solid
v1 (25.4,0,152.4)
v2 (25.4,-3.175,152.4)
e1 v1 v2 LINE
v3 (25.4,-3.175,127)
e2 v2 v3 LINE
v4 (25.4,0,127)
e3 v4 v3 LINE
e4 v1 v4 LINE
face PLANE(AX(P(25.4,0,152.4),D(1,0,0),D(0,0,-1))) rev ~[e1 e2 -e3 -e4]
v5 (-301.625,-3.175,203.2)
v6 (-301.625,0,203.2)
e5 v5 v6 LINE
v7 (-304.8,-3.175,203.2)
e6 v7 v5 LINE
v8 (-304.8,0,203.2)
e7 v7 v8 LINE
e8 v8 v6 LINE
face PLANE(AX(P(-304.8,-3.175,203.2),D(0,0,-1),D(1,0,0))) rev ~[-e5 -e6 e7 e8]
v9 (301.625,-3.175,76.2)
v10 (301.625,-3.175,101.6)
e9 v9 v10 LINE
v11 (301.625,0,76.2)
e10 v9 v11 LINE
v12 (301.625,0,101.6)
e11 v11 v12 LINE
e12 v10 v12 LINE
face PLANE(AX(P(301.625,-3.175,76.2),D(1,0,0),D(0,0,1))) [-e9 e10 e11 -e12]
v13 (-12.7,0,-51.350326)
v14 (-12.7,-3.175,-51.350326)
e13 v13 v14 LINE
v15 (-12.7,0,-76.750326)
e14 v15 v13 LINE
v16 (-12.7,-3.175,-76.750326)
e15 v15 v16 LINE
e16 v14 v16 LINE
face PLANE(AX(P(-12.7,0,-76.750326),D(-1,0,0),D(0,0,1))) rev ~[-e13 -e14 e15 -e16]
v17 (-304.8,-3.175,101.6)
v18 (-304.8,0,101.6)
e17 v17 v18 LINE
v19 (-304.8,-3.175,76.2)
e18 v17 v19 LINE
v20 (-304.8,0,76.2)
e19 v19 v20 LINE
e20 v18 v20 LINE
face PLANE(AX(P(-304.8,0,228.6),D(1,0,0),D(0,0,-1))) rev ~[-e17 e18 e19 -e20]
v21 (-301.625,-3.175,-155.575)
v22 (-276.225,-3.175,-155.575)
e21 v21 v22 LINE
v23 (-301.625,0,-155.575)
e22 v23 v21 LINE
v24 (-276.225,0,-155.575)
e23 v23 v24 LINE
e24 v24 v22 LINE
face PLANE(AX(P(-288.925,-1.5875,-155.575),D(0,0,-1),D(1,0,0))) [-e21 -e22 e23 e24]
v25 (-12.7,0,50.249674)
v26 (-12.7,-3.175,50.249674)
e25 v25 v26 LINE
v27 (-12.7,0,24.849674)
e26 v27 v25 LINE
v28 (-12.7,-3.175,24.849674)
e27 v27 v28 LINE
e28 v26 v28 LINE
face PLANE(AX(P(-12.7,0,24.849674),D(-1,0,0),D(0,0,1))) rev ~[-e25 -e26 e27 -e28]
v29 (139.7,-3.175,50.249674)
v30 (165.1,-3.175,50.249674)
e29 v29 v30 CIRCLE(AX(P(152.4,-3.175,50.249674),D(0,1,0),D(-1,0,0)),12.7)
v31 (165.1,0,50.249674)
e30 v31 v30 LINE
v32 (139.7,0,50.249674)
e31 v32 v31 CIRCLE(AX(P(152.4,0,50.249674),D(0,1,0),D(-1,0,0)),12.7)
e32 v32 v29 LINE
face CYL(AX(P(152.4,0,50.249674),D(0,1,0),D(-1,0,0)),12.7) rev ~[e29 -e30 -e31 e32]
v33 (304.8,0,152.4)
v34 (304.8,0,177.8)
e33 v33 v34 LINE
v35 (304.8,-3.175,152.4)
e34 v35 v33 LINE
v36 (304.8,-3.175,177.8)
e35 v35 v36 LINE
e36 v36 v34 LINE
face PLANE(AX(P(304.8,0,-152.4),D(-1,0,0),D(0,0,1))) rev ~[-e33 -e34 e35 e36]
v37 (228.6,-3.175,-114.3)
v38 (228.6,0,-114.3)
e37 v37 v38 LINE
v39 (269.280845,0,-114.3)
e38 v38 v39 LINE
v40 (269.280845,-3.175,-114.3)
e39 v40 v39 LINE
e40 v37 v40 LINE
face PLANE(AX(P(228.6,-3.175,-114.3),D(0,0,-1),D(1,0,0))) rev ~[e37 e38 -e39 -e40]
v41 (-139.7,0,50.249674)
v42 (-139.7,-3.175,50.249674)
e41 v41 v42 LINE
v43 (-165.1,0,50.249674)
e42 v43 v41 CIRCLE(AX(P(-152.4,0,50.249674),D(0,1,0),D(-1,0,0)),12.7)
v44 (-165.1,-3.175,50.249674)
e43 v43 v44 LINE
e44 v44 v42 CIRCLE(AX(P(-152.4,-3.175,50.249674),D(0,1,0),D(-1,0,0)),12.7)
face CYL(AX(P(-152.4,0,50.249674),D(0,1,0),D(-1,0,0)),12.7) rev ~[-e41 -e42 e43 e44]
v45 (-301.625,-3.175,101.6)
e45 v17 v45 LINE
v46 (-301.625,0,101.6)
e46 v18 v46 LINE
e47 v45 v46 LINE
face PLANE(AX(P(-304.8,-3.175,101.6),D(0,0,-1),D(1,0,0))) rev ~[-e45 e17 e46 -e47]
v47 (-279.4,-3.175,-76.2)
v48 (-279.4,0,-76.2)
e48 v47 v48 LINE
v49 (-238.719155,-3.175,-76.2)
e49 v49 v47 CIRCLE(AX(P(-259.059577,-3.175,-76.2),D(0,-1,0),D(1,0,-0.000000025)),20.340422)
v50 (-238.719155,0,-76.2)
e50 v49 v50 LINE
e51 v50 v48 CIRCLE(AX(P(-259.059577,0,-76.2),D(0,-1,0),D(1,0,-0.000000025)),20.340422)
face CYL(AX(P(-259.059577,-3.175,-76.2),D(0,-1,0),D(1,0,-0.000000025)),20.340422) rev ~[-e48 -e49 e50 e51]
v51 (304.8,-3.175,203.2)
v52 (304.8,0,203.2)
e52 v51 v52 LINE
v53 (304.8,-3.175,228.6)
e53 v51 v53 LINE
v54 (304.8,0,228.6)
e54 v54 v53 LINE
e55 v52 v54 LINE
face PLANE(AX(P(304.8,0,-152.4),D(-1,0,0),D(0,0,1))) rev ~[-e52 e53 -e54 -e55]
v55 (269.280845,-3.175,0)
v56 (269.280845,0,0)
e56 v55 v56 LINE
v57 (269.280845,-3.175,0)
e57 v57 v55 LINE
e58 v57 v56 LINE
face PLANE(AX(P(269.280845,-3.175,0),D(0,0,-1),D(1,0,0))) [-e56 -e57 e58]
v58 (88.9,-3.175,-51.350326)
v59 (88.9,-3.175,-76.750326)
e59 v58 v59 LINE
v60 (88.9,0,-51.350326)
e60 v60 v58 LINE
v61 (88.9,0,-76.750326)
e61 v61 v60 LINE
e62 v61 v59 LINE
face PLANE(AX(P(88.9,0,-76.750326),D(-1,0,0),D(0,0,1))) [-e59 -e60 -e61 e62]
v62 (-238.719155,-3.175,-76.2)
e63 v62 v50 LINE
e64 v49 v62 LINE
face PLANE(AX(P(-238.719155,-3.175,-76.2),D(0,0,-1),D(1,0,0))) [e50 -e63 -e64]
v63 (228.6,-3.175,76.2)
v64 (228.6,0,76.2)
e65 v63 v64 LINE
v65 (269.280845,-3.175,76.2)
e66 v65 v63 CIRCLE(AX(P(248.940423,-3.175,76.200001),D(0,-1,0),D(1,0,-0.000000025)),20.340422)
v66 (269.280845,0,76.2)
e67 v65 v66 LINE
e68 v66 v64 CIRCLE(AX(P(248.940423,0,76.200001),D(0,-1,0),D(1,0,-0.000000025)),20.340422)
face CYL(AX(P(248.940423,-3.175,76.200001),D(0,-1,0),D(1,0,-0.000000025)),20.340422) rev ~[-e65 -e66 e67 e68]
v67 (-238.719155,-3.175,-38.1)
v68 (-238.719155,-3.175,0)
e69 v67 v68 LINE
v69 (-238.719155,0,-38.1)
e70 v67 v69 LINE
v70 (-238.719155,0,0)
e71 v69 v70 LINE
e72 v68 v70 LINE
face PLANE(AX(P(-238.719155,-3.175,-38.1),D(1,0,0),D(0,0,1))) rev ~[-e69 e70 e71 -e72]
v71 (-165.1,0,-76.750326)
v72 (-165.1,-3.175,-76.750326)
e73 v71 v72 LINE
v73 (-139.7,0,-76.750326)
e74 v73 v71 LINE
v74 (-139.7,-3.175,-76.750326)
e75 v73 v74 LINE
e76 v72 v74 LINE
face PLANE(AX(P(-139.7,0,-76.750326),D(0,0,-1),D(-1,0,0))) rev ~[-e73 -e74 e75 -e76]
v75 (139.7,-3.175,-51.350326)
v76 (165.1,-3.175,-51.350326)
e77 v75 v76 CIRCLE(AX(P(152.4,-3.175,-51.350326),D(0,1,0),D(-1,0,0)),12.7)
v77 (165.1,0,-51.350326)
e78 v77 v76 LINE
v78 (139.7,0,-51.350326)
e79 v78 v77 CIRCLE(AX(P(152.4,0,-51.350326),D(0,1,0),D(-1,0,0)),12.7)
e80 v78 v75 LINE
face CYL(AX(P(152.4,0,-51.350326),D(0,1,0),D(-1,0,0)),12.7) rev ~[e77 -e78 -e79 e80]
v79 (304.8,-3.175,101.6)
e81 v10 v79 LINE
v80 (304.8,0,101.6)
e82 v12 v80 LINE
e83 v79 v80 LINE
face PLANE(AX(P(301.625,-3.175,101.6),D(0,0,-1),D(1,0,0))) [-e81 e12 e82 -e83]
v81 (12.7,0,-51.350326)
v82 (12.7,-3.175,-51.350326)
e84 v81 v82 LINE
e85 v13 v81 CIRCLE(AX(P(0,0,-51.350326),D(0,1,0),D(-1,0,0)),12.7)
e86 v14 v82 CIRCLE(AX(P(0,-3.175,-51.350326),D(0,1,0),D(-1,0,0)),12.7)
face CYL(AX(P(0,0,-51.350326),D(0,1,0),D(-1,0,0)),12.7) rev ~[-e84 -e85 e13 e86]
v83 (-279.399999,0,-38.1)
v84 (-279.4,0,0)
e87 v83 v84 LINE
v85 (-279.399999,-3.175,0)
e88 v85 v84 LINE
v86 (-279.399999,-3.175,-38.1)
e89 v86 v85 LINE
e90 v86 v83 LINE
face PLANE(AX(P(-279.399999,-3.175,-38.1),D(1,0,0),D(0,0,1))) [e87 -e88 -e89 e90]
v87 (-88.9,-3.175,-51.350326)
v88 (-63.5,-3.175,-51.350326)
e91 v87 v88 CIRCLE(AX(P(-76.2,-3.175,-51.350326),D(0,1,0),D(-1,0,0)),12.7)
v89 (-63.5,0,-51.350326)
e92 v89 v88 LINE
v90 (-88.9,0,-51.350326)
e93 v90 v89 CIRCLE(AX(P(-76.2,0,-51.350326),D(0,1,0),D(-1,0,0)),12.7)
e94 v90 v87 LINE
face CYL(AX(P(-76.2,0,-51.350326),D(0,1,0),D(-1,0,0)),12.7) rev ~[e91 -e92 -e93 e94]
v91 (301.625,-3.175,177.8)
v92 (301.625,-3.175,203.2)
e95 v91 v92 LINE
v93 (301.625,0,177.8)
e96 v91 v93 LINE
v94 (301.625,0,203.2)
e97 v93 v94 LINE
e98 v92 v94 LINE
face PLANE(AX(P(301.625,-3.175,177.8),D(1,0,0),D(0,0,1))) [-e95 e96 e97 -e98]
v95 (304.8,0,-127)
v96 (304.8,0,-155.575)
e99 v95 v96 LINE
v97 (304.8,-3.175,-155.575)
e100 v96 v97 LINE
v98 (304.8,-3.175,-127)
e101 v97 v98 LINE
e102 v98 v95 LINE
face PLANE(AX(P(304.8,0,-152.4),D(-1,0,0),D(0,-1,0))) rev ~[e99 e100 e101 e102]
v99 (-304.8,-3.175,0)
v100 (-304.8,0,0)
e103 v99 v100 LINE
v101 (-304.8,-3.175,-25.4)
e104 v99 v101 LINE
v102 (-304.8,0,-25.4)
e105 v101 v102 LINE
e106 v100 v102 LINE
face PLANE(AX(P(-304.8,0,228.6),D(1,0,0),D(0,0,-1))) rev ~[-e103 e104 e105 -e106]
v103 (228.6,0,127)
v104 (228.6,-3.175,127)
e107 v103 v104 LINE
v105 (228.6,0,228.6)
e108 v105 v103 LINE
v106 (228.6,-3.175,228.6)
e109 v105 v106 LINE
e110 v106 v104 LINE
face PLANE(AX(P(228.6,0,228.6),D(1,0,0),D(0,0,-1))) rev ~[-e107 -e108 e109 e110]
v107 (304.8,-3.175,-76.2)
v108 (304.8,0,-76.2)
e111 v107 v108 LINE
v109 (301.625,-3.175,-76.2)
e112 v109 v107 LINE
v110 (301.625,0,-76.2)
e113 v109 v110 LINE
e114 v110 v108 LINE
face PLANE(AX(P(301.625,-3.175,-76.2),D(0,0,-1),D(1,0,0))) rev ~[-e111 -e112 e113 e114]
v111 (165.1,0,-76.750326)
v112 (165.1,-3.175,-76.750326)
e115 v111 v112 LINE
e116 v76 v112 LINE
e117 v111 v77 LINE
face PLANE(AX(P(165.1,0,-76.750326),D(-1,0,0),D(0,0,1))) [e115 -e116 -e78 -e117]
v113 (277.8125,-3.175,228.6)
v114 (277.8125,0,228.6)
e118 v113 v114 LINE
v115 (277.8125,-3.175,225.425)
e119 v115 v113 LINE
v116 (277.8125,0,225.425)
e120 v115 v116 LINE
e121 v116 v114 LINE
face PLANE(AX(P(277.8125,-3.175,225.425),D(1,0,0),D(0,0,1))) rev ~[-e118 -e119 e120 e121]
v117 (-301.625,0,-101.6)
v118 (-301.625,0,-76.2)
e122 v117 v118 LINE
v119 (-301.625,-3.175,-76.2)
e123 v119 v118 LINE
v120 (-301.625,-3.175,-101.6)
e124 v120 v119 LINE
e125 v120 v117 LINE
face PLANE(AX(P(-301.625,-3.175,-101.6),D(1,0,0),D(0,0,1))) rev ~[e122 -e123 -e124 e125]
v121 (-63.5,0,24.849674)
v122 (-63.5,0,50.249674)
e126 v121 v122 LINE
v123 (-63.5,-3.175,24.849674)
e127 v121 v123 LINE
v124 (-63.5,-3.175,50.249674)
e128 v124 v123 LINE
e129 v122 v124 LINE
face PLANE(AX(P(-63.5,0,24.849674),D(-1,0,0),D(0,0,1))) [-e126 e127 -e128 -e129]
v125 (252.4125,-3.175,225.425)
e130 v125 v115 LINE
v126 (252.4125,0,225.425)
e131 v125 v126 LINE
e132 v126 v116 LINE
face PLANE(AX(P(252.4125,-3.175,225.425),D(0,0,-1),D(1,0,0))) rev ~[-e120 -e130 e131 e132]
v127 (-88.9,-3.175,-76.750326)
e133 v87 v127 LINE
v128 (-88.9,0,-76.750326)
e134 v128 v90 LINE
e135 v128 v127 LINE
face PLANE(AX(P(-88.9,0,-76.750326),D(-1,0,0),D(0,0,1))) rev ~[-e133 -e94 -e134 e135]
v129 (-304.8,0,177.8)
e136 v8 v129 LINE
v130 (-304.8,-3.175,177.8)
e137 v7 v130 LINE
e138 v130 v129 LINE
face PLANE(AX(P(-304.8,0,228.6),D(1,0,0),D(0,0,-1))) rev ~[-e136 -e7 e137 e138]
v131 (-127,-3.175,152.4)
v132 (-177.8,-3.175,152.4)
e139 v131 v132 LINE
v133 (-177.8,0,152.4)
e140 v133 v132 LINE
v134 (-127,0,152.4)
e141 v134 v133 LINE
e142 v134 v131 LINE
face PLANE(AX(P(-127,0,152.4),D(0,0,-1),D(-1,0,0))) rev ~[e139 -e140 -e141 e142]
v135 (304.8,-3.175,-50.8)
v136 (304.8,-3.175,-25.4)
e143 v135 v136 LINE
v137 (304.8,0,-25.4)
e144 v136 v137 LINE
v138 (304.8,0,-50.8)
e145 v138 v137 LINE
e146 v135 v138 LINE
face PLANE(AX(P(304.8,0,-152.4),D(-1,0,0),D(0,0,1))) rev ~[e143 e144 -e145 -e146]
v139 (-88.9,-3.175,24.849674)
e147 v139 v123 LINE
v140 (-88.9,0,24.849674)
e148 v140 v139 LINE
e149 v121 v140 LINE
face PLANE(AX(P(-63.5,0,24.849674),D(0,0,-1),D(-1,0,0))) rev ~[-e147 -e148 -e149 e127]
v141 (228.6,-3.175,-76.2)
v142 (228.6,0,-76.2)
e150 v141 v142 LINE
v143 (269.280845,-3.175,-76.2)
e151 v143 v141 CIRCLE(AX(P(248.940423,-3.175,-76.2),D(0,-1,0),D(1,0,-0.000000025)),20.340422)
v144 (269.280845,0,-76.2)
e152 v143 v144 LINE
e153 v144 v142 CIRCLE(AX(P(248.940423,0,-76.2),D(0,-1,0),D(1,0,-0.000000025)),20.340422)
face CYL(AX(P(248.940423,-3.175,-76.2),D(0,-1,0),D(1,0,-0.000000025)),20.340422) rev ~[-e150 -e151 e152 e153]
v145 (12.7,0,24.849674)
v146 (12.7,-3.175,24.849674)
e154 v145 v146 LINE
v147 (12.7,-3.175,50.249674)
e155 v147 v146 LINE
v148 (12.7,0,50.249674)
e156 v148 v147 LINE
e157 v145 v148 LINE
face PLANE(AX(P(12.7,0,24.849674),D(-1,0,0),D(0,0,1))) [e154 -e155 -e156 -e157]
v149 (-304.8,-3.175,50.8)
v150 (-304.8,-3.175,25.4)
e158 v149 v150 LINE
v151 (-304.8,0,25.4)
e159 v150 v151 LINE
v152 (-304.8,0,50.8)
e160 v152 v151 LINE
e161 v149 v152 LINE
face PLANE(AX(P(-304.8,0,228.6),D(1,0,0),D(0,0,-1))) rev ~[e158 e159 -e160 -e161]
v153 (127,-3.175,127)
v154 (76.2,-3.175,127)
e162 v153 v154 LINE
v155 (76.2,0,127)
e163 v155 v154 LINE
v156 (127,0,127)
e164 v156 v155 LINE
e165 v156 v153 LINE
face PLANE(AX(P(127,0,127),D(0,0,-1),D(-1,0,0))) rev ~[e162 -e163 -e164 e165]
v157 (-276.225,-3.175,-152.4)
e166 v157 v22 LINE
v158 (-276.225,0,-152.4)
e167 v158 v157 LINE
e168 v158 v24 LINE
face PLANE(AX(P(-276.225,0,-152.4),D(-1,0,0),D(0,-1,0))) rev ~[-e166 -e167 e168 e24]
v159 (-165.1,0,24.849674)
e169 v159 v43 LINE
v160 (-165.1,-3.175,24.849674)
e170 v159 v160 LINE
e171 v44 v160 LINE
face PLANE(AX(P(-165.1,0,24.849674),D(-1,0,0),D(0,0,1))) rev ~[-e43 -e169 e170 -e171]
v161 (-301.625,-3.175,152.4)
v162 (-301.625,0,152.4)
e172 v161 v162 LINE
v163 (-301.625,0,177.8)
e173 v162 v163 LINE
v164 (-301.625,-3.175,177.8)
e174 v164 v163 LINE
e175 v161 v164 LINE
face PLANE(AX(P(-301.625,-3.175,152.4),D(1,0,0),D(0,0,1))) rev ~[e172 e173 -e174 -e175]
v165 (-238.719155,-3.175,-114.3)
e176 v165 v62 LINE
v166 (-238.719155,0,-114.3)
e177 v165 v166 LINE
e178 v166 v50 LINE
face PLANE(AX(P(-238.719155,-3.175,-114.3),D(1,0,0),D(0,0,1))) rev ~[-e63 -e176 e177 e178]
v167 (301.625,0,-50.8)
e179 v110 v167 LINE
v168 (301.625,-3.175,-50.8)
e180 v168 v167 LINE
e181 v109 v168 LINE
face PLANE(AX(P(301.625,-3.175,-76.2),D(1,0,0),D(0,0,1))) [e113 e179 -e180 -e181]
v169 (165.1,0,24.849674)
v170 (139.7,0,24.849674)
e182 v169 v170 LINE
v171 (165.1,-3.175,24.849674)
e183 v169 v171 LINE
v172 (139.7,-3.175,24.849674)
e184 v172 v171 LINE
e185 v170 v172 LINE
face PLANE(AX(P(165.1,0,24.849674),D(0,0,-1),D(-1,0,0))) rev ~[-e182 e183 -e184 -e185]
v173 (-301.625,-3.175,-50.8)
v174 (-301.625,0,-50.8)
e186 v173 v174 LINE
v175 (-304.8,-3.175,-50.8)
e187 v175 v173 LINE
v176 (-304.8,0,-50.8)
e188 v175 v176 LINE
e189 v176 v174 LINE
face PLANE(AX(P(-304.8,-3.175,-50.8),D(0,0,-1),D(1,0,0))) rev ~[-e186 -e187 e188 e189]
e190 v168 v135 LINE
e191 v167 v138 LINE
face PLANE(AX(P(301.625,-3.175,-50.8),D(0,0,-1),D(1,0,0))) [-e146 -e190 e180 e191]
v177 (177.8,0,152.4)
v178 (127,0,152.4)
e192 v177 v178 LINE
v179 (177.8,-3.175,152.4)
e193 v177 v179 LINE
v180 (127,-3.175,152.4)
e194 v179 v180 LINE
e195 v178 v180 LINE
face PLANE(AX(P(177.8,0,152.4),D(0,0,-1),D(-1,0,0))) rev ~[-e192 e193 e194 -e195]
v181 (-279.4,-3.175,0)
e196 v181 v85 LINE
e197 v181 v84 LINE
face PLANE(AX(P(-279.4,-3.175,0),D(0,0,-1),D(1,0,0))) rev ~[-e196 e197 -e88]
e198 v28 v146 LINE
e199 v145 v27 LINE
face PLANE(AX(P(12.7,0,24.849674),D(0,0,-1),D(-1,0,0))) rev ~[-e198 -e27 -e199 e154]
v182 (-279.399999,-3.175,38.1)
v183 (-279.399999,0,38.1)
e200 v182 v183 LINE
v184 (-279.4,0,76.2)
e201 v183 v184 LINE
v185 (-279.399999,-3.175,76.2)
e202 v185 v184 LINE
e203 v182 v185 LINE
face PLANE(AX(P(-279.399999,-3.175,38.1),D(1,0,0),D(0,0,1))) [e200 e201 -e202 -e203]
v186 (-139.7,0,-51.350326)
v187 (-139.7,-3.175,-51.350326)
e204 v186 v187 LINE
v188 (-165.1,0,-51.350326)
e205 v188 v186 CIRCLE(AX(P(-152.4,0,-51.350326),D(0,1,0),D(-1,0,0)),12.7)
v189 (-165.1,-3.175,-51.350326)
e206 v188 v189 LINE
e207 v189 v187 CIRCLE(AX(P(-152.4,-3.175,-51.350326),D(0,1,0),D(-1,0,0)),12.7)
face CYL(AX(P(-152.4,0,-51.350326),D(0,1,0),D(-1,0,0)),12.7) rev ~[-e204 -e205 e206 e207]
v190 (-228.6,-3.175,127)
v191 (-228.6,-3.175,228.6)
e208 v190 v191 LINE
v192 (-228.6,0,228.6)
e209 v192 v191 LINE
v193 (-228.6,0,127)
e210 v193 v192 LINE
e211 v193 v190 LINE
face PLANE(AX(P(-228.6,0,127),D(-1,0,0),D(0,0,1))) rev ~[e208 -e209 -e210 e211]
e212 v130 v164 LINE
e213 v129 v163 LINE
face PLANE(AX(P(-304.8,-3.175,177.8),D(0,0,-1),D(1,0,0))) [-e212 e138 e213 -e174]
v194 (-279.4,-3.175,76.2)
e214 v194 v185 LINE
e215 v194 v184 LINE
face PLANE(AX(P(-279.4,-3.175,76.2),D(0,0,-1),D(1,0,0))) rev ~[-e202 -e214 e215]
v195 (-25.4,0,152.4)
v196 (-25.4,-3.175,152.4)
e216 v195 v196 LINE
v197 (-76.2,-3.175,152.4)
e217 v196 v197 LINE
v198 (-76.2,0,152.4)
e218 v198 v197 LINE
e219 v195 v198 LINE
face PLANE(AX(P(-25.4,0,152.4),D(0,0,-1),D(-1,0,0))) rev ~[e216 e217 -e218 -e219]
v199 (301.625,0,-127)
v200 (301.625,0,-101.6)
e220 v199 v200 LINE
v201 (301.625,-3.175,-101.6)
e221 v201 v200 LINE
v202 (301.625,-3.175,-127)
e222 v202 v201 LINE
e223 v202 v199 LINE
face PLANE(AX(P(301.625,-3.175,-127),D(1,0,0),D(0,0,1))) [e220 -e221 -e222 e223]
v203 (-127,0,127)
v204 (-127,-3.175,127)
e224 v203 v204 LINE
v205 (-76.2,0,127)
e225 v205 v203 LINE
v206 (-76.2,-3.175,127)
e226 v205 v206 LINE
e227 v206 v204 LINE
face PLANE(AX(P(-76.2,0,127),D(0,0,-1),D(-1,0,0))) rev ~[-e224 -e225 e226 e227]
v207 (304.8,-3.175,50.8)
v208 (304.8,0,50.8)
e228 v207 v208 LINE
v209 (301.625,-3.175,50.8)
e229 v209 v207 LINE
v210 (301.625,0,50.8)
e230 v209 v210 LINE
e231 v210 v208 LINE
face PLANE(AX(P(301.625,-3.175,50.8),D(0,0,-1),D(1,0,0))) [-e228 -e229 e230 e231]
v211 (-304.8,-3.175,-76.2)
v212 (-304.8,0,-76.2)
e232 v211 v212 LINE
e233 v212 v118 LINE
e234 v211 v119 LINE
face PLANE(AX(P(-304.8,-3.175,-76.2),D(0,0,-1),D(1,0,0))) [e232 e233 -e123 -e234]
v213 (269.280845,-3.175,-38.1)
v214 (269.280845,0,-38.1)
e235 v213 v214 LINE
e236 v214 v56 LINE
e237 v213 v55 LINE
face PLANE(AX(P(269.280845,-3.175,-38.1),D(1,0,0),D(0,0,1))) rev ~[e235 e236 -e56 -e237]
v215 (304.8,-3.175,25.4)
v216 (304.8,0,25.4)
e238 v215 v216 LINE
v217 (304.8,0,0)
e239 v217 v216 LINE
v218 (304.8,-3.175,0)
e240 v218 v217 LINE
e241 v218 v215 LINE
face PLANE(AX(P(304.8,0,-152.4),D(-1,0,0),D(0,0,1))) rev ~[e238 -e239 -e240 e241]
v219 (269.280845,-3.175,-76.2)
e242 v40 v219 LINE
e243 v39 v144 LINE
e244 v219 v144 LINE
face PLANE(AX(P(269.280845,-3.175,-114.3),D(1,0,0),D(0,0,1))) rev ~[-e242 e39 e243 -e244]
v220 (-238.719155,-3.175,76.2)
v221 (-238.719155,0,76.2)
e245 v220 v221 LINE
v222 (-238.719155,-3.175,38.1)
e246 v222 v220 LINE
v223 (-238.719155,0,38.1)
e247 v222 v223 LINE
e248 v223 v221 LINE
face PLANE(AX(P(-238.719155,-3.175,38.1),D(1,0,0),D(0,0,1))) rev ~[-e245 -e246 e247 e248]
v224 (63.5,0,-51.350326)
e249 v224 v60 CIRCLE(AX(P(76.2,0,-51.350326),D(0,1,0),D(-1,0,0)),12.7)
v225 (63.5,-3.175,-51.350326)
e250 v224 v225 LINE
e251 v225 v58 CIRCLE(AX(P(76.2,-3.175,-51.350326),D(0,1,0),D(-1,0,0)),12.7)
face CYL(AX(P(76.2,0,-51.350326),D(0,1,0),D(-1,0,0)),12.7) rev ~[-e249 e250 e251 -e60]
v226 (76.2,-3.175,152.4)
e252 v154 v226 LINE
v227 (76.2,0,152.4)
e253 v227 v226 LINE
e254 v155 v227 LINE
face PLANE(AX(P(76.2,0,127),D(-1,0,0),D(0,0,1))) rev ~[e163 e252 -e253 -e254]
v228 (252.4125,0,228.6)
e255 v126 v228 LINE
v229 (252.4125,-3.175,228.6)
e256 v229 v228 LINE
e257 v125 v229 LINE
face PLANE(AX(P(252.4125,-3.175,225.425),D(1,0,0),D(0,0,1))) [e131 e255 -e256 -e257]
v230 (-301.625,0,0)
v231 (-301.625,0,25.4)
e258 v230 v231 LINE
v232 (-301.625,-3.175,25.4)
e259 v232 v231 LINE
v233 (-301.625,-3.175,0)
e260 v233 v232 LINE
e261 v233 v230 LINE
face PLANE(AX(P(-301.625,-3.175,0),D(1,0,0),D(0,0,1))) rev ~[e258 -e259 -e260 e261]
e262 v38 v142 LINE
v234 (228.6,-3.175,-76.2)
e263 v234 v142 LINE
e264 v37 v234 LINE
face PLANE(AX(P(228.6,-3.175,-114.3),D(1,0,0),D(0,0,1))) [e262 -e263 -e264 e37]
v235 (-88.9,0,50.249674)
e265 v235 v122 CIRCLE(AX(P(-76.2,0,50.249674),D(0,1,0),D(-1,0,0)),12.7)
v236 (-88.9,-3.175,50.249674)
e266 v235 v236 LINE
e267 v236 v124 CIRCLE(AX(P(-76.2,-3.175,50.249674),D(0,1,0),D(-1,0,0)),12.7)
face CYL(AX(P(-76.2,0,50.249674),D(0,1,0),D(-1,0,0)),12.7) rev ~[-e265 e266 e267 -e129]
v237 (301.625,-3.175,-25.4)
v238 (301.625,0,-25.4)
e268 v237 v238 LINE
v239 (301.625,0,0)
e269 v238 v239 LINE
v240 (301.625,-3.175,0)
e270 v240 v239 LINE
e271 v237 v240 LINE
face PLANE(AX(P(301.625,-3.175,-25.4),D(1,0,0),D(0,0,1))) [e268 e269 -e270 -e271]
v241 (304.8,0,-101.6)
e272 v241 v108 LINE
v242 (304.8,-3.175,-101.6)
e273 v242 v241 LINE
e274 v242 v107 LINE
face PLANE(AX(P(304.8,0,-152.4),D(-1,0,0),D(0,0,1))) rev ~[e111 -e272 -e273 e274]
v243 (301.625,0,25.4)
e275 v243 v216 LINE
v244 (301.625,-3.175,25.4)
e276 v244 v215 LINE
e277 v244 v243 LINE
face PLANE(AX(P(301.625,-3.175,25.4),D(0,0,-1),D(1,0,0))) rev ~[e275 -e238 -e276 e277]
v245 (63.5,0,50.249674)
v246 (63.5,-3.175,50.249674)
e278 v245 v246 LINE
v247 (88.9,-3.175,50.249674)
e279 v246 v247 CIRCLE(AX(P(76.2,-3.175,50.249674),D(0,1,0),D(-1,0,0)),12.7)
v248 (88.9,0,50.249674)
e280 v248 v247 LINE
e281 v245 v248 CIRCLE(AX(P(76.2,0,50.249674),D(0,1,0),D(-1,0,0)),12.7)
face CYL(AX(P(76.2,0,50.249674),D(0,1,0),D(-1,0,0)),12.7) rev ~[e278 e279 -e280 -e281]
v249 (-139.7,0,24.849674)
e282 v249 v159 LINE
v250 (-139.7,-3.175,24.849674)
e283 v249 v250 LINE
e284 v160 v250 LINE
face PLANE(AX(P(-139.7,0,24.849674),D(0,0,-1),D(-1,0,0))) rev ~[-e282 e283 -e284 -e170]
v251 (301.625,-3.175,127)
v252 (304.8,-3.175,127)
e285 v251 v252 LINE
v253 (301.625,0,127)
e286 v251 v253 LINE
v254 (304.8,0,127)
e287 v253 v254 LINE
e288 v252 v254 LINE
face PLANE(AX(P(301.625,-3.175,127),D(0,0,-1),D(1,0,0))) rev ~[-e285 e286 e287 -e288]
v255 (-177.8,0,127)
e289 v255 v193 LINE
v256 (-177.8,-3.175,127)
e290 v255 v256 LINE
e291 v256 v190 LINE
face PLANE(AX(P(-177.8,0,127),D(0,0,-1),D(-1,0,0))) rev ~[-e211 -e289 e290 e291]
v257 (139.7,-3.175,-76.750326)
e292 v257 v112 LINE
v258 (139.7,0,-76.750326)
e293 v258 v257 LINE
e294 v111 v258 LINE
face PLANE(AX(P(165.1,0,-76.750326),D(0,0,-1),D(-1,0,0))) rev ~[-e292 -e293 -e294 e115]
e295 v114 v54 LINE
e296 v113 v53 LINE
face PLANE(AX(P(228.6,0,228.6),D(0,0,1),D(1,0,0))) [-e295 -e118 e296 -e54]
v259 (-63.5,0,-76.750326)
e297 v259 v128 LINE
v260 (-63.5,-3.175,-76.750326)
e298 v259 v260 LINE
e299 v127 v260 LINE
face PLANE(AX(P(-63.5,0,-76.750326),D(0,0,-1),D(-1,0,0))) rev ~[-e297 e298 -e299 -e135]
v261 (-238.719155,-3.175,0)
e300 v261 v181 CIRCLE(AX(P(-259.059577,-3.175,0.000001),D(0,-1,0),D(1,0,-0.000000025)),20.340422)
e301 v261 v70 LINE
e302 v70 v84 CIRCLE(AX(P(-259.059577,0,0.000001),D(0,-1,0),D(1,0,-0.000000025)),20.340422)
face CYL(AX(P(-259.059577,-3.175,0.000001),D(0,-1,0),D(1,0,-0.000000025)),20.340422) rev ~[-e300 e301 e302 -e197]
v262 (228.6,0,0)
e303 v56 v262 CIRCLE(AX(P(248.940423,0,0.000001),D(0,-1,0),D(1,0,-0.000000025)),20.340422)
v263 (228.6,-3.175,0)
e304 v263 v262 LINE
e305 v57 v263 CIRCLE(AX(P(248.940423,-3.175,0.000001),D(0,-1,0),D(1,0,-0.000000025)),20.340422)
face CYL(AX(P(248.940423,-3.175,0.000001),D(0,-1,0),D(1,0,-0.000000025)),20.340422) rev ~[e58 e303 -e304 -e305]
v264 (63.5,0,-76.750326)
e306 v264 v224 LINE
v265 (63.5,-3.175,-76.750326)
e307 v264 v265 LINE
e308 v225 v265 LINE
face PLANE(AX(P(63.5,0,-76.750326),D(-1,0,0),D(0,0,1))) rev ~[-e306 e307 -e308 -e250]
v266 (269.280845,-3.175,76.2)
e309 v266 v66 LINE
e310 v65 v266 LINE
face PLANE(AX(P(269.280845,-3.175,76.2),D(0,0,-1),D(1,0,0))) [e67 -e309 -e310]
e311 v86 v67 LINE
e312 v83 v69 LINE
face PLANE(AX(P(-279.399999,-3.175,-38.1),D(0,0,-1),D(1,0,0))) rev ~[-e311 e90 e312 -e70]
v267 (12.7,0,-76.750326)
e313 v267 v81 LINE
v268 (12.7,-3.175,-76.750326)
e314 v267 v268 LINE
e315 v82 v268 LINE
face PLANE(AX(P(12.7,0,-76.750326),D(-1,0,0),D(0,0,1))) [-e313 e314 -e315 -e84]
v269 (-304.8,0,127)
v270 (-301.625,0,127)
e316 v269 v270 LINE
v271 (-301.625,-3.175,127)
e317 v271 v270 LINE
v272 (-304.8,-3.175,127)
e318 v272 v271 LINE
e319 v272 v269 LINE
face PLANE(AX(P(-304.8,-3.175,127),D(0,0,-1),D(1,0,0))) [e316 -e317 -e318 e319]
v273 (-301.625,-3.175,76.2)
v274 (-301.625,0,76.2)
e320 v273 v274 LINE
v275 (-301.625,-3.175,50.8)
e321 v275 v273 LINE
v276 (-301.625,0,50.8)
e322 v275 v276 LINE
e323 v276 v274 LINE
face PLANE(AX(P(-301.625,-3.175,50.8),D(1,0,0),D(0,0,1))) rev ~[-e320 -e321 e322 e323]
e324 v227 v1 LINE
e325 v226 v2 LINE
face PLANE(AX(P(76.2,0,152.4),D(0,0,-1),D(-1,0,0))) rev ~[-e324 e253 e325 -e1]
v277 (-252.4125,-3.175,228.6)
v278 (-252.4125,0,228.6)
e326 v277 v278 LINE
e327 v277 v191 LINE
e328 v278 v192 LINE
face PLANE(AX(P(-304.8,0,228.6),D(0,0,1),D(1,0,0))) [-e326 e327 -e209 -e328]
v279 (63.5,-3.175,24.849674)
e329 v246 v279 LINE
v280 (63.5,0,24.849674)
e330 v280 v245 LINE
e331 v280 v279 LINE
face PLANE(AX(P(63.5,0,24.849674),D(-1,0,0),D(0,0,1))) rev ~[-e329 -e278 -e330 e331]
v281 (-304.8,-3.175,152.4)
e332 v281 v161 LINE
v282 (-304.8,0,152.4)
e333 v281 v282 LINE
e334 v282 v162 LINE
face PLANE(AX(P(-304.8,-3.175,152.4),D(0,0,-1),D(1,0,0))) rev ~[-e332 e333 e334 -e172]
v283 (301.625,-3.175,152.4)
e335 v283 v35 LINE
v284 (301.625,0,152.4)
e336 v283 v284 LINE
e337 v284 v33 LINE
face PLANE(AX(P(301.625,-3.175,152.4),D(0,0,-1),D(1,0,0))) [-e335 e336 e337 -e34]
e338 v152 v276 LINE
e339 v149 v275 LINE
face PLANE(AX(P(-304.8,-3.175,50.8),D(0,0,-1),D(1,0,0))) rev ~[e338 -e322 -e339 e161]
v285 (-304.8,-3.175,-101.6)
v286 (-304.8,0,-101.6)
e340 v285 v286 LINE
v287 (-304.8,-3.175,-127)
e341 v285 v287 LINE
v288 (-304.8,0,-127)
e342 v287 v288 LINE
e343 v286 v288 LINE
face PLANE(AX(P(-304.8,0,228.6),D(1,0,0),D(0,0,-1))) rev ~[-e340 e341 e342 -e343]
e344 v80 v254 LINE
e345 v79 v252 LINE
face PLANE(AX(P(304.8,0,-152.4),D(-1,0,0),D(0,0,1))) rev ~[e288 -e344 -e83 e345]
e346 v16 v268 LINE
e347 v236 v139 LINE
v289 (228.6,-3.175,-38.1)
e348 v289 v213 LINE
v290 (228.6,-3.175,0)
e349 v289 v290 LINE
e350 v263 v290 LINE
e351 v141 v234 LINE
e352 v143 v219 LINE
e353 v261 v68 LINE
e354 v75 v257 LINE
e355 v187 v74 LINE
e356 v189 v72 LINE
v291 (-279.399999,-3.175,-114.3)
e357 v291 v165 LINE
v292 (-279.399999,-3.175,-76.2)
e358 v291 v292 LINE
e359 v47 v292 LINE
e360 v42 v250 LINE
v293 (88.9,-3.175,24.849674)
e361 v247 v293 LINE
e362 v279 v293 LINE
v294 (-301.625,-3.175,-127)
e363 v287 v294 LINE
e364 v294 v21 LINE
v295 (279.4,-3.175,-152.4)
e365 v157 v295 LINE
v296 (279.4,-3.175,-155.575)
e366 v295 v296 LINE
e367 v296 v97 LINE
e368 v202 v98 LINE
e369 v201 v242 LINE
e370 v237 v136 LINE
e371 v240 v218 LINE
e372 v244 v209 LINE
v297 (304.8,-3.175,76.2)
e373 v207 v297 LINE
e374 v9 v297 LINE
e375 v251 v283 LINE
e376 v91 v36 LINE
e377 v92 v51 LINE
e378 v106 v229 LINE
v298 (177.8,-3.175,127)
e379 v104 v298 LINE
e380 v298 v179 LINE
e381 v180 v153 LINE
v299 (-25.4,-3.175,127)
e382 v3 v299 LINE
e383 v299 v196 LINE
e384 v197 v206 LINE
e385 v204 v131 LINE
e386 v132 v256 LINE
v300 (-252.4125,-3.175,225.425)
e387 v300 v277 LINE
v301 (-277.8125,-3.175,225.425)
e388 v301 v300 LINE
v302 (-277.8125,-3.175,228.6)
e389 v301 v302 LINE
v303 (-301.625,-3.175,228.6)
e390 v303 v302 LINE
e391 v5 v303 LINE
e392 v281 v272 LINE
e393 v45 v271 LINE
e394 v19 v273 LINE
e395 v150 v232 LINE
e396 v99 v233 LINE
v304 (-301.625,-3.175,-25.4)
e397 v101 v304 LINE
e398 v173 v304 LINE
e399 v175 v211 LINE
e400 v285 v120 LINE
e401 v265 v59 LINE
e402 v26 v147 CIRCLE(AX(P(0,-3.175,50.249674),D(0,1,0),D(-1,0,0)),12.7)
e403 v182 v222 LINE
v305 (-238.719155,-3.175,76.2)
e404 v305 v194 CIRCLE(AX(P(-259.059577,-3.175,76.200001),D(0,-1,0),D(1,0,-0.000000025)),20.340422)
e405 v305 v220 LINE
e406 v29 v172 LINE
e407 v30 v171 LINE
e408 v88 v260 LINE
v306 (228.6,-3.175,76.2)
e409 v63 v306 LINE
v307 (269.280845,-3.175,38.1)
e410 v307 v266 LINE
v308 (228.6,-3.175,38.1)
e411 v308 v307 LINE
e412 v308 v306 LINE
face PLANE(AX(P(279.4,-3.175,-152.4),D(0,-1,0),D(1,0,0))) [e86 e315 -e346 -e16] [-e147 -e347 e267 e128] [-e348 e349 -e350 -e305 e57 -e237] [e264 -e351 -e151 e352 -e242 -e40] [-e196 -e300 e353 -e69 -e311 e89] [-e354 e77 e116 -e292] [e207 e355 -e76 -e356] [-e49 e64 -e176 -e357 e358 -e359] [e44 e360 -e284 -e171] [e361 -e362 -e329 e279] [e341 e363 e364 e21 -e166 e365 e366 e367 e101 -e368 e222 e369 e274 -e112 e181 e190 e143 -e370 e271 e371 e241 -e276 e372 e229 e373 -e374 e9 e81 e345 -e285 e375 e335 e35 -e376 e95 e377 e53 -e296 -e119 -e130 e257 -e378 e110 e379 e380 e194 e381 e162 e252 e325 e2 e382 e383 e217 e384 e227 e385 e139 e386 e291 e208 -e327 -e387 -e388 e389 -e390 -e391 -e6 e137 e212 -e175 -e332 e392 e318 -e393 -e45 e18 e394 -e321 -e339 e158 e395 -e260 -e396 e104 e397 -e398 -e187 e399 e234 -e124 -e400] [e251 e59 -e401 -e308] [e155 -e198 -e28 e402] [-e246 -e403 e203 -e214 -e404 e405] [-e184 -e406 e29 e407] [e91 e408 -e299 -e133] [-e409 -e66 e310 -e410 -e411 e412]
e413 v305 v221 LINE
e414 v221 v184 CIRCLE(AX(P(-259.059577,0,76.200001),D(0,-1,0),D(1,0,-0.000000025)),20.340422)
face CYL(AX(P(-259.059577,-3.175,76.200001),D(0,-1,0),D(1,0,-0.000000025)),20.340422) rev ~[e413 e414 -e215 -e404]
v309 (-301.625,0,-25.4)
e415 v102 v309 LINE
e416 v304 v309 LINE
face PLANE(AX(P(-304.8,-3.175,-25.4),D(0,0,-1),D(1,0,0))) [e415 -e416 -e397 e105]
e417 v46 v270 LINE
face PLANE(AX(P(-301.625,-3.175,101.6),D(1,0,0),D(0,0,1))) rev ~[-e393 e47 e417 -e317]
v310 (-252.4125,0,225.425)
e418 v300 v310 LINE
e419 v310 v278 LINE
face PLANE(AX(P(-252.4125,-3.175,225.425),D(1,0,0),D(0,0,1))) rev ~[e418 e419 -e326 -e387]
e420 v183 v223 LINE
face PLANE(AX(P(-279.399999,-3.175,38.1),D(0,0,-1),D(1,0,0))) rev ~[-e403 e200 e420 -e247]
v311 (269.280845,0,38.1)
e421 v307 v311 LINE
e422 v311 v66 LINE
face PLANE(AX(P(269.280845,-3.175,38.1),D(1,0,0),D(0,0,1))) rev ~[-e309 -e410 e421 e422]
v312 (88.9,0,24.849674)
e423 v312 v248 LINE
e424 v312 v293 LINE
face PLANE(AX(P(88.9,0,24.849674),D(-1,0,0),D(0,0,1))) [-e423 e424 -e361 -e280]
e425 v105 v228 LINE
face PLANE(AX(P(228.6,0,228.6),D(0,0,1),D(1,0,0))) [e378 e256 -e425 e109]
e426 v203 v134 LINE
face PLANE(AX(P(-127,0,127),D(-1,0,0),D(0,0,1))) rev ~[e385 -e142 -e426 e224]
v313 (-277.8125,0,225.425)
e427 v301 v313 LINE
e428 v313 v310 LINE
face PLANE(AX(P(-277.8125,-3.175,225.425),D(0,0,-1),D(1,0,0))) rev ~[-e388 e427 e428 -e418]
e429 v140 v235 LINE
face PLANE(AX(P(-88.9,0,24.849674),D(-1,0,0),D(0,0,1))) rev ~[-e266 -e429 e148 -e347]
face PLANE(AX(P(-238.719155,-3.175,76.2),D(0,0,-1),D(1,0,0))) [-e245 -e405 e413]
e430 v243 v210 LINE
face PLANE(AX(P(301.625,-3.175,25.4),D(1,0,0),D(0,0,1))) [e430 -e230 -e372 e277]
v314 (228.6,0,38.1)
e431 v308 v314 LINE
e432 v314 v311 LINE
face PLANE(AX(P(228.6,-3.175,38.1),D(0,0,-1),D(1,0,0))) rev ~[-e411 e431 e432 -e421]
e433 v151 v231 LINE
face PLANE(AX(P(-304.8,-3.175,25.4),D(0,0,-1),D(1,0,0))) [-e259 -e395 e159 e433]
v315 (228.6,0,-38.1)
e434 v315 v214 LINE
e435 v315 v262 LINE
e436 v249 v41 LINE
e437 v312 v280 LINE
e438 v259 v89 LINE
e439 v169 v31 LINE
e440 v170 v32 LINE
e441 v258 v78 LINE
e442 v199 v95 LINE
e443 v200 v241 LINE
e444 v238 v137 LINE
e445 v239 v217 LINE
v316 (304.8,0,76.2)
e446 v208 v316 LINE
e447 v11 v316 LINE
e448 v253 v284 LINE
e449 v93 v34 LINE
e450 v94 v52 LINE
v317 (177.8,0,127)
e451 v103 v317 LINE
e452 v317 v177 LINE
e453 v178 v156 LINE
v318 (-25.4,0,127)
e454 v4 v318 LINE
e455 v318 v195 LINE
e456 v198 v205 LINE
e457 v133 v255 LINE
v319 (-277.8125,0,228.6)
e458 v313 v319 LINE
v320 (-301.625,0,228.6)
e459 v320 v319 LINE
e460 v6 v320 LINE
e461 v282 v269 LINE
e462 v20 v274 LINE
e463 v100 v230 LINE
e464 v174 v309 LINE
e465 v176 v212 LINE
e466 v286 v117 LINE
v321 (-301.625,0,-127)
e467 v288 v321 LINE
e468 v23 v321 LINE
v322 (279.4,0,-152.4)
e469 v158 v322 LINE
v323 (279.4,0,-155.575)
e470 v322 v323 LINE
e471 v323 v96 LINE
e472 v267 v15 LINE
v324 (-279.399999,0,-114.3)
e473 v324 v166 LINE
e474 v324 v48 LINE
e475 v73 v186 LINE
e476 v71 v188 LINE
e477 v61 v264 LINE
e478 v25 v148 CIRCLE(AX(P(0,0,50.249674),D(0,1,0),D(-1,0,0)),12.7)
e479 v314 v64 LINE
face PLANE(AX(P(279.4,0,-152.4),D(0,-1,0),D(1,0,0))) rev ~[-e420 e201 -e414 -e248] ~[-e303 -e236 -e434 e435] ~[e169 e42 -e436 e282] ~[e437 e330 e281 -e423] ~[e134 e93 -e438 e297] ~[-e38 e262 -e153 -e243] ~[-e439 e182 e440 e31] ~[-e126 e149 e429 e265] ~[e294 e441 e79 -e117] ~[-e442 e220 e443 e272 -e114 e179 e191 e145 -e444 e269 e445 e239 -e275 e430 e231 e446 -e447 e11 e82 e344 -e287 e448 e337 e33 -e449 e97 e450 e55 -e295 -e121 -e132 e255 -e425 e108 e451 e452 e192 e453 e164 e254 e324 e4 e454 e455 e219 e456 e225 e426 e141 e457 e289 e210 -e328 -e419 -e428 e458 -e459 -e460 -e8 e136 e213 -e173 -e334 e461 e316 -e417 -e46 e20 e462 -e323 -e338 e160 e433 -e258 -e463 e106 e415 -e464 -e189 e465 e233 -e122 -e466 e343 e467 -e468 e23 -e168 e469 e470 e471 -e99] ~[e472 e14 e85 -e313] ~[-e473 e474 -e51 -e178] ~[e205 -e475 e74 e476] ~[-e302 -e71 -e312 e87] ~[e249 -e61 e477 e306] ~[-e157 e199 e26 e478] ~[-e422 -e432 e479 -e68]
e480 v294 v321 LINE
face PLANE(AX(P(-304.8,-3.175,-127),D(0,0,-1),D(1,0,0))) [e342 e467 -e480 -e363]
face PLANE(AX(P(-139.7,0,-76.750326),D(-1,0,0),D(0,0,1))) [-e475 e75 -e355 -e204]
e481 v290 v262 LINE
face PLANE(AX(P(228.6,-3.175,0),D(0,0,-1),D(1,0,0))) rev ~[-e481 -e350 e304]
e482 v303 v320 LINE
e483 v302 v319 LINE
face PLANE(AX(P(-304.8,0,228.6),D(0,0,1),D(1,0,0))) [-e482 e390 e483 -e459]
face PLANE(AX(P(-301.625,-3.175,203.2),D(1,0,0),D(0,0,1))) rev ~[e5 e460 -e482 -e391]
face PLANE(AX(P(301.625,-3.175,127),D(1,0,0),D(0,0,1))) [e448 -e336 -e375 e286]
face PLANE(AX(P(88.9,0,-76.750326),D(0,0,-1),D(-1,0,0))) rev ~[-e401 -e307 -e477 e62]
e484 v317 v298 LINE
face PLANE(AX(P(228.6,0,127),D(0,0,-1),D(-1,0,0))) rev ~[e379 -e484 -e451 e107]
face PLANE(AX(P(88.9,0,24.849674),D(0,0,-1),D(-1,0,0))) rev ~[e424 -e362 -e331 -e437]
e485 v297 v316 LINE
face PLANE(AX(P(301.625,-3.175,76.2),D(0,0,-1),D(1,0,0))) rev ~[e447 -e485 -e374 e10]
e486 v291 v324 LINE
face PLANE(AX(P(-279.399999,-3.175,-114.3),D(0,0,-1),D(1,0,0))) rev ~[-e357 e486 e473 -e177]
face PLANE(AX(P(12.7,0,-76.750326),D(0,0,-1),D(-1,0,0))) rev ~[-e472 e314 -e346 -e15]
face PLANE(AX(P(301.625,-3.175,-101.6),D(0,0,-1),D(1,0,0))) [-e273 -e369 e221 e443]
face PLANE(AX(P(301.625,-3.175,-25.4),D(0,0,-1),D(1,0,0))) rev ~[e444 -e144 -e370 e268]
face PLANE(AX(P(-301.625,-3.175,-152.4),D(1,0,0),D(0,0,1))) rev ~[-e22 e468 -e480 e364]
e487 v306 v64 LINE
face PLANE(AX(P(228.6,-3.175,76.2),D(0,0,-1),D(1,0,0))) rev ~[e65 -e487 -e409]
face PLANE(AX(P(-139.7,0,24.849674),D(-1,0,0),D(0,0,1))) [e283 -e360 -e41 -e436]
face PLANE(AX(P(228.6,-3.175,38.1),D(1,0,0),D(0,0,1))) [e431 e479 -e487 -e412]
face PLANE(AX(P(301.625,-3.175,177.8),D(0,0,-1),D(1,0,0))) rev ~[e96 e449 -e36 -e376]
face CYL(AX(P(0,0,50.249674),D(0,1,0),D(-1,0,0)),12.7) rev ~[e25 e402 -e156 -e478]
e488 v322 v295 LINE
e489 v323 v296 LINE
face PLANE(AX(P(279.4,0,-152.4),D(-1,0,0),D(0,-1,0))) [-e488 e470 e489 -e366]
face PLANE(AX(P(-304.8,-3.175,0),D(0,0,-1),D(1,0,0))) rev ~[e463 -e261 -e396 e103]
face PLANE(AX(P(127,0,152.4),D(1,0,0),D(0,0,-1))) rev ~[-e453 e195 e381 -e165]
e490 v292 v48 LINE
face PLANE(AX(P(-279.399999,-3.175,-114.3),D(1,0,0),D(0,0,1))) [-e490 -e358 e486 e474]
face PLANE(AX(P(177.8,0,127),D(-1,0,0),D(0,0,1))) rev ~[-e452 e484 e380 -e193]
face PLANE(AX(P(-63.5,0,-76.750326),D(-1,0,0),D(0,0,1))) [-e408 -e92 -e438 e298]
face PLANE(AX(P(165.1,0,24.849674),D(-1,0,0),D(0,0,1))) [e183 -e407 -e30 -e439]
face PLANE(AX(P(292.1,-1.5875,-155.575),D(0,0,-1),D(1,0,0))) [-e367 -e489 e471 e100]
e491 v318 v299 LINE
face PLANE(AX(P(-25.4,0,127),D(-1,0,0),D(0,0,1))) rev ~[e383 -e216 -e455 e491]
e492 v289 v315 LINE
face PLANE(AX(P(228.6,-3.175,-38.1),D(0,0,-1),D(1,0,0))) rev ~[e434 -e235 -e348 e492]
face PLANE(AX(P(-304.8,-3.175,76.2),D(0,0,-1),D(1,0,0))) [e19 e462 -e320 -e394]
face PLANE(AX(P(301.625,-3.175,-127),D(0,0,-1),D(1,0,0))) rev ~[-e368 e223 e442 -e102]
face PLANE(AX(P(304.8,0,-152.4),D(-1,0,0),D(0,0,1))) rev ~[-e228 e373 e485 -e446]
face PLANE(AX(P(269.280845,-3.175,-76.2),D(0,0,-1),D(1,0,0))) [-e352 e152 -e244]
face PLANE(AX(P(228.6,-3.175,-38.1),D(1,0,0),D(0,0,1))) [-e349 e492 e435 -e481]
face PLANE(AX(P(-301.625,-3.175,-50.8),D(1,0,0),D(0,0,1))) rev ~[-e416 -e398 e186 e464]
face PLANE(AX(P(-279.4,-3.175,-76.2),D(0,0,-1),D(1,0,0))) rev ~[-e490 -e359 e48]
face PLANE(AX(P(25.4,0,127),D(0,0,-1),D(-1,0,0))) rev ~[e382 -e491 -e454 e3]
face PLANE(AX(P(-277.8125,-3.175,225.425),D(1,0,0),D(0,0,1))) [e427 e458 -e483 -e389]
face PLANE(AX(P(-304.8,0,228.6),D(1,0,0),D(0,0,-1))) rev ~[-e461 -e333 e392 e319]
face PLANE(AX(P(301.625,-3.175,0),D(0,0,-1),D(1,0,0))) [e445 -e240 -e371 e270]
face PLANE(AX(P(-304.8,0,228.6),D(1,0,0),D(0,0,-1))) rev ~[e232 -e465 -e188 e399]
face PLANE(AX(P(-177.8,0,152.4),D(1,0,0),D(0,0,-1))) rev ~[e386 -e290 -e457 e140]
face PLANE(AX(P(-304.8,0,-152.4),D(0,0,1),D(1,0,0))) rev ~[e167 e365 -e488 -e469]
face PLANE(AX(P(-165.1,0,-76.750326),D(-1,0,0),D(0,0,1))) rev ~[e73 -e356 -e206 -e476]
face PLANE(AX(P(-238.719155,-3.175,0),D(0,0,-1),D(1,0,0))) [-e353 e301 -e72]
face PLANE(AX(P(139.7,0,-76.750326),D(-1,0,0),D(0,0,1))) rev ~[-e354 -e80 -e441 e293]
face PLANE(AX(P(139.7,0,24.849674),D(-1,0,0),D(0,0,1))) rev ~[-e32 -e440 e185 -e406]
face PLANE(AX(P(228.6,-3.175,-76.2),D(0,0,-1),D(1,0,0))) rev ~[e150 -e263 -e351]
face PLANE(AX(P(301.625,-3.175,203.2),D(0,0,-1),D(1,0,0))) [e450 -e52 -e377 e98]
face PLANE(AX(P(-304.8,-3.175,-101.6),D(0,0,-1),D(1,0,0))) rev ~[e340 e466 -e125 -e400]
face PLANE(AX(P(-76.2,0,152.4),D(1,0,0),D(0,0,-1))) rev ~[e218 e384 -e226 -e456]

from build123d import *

# Parameters (mm, degrees)
F0_W      = 76.2
F0_H      = 76.2
F1_DEPTH  = 3.175
F2_W      = 3.175
F2_H      = 25.4
F3_DEPTH  = 25.4
F4_DEPTH  = 25.4
F5_DEPTH  = 25.4
F6_W      = 40.680845
F6_H      = 38.1
F7_DEPTH  = 25.4
F8_W      = 25.4
F8_H      = 25.4
F9_DEPTH  = 25.4
F10_W     = 25.4
F10_H     = 3.175
F11_DEPTH = 3.175
F12_W     = 25.4
F12_H     = 3.175
F13_DEPTH = 25.4


with BuildPart() as f1:
    # F0 (on Front) → F1 (new body)
    with BuildSketch(Plane.XZ):
        with Locations((-266.7, 190.5)):
            Rectangle(F0_W, F0_H)
        Polygon((-228.6, 152.4), (-304.8, 152.4), (-304.8, -152.4), (304.8, -152.4), (304.8, 152.4), (228.6, 152.4), (228.6, 127), (177.8, 127), (177.8, 152.4), (127, 152.4), (127, 127), (76.2, 127), (76.2, 152.4), (25.4, 152.4), (25.4, 127), (-25.4, 127), (-25.4, 152.4), (-76.2, 152.4), (-76.2, 127), (-127, 127), (-127, 152.4), (-177.8, 152.4), (-177.8, 127), (-228.6, 127), align=None)
        with Locations((266.7, 190.5)):
            Rectangle(F0_W, F0_H)
    extrude(amount=F1_DEPTH)

    # F2 (on face) → F3 (cut)
    with BuildSketch(Plane.XZ.offset(3.175)):
        with Locations((-303.2125, 114.3)):
            Rectangle(F2_W, F2_H)
        with Locations((303.2125, 190.5)):
            Rectangle(F2_W, F2_H)
        with Locations((-303.2125, 63.5)):
            Rectangle(F2_W, F2_H)
        with Locations((-303.2125, 12.7)):
            Rectangle(F2_W, F2_H)
        with Locations((-303.2125, -38.1)):
            Rectangle(F2_W, F2_H)
        with Locations((-303.2125, -88.9)):
            Rectangle(F2_W, F2_H)
        with Locations((-303.2125, -139.7)):
            Rectangle(F2_W, F2_H)
    extrude(amount=-F3_DEPTH, mode=Mode.SUBTRACT)

    # F2 (on face) → F4 (cut)
    with BuildSketch(Plane.XZ.offset(3.175)):
        with Locations((-303.2125, 114.3)):
            Rectangle(F2_W, F2_H)
        with Locations((303.2125, 190.5)):
            Rectangle(F2_W, F2_H)
        with Locations((-303.2125, 165.1)):
            Rectangle(F2_W, F2_H)
        with Locations((-303.2125, 215.9)):
            Rectangle(F2_W, F2_H)
    extrude(amount=-F4_DEPTH, mode=Mode.SUBTRACT)

    # F2 (on face) → F5 (cut)
    with BuildSketch(Plane.XZ.offset(3.175)):
        with Locations((303.2125, 139.7)):
            Rectangle(F2_W, F2_H)
        with Locations((303.2125, 88.9)):
            Rectangle(F2_W, F2_H)
        with Locations((303.2125, 38.1)):
            Rectangle(F2_W, F2_H)
        with Locations((303.2125, -12.7)):
            Rectangle(F2_W, F2_H)
        with Locations((303.2125, -63.5)):
            Rectangle(F2_W, F2_H)
        with Locations((303.2125, -114.3)):
            Rectangle(F2_W, F2_H)
    extrude(amount=-F5_DEPTH, mode=Mode.SUBTRACT)

    # F6 (on face) → F7 (cut)
    with BuildSketch(Plane.XZ.offset(3.175)):
        with BuildLine():
            ThreePointArc((-238.719155, 76.2), (-259.059577, 96.540423), (-279.4, 76.2))
            Line((-279.4, 76.2), (-238.719155, 76.2))
        make_face()
        with Locations((-259.059577, 57.15)):
            Rectangle(F6_W, F6_H)
        with BuildLine():
            ThreePointArc((-238.719155, 0), (-259.059577, 20.340423), (-279.4, 0))
            Line((-279.4, 0), (-238.719155, 0))
        make_face()
        with Locations((-259.059577, -19.05)):
            Rectangle(F6_W, F6_H)
        with BuildLine():
            ThreePointArc((-238.719155, -76.2), (-259.059577, -55.859577), (-279.4, -76.2))
            Line((-279.4, -76.2), (-238.719155, -76.2))
        make_face()
        with Locations((-259.059577, -95.25)):
            Rectangle(F6_W, F6_H)
        with BuildLine():
            ThreePointArc((269.280845, 76.2), (248.940423, 96.540423), (228.6, 76.2))
            Line((228.6, 76.2), (269.280845, 76.2))
        make_face()
        with Locations((248.940423, 57.15)):
            Rectangle(F6_W, F6_H)
        with BuildLine():
            ThreePointArc((269.280845, 0), (248.940423, 20.340423), (228.6, 0))
            Line((228.6, 0), (269.280845, 0))
        make_face()
        with Locations((248.940423, -19.05)):
            Rectangle(F6_W, F6_H)
        with BuildLine():
            ThreePointArc((269.280845, -76.2), (248.940423, -55.859577), (228.6, -76.2))
            Line((228.6, -76.2), (269.280845, -76.2))
        make_face()
        with Locations((248.940423, -95.25)):
            Rectangle(F6_W, F6_H)
    extrude(amount=-F7_DEPTH, mode=Mode.SUBTRACT)

    # F8 (on face) → F9 (cut)
    with BuildSketch(Plane(origin=(0, 0, 0), x_dir=(-1, 0, 0), z_dir=(0, 1, 0))):
        with BuildLine():
            ThreePointArc((-139.7, 50.249674), (-152.4, 62.949674), (-165.1, 50.249674))
            Line((-165.1, 50.249674), (-139.7, 50.249674))
        make_face()
        with Locations((-152.4, 37.549674)):
            Rectangle(F8_W, F8_H)
        with BuildLine():
            Line((-165.1, -51.350326), (-139.7, -51.350326))
            ThreePointArc((-139.7, -51.350326), (-152.4, -38.650326), (-165.1, -51.350326))
        make_face()
        with Locations((-152.4, -64.050326)):
            Rectangle(F8_W, F8_H)
        with BuildLine():
            Line((-88.9, 50.249674), (-63.5, 50.249674))
            ThreePointArc((-63.5, 50.249674), (-76.2, 62.949674), (-88.9, 50.249674))
        make_face()
        with Locations((-76.2, 37.549674)):
            Rectangle(F8_W, F8_H)
        with BuildLine():
            Line((-88.9, -51.350326), (-63.5, -51.350326))
            ThreePointArc((-63.5, -51.350326), (-76.2, -38.650326), (-88.9, -51.350326))
        make_face()
        with Locations((-76.2, -64.050326)):
            Rectangle(F8_W, F8_H)
        with BuildLine():
            Line((-12.7, 50.249674), (12.7, 50.249674))
            ThreePointArc((12.7, 50.249674), (0, 62.949674), (-12.7, 50.249674))
        make_face()
        with Locations((0, 37.549674)):
            Rectangle(F8_W, F8_H)
        with BuildLine():
            Line((-12.7, -51.350326), (12.7, -51.350326))
            ThreePointArc((12.7, -51.350326), (0, -38.650326), (-12.7, -51.350326))
        make_face()
        with Locations((0, -64.050326)):
            Rectangle(F8_W, F8_H)
        with BuildLine():
            Line((63.5, 50.249674), (88.9, 50.249674))
            ThreePointArc((88.9, 50.249674), (76.2, 62.949674), (63.5, 50.249674))
        make_face()
        with Locations((76.2, 37.549674)):
            Rectangle(F8_W, F8_H)
        with BuildLine():
            Line((63.5, -51.350326), (88.9, -51.350326))
            ThreePointArc((88.9, -51.350326), (76.2, -38.650326), (63.5, -51.350326))
        make_face()
        with Locations((76.2, -64.050326)):
            Rectangle(F8_W, F8_H)
        with BuildLine():
            Line((139.7, 50.249674), (165.1, 50.249674))
            ThreePointArc((165.1, 50.249674), (152.4, 62.949674), (139.7, 50.249674))
        make_face()
        with Locations((152.4, 37.549674)):
            Rectangle(F8_W, F8_H)
        with BuildLine():
            Line((139.7, -51.350326), (165.1, -51.350326))
            ThreePointArc((165.1, -51.350326), (152.4, -38.650326), (139.7, -51.350326))
        make_face()
        with Locations((152.4, -64.050326)):
            Rectangle(F8_W, F8_H)
    extrude(amount=-F9_DEPTH, mode=Mode.SUBTRACT)

    # F10 (on face) → F11 (join)
    with BuildSketch(Plane(origin=(0, 0, -152.4), x_dir=(1, 0, 0), z_dir=(0, 0, -1))):
        with Locations((292.1, 1.5875)):
            Rectangle(F10_W, F10_H)
        with Locations((-288.925, 1.5875)):
            Rectangle(F10_W, F10_H)
    extrude(amount=F11_DEPTH)

    # F12 (on face) → F13 (cut)
    with BuildSketch(Plane.XZ.offset(3.175)):
        with Locations((-265.1125, 227.0125)):
            Rectangle(F12_W, F12_H)
        with Locations((265.1125, 227.0125)):
            Rectangle(F12_W, F12_H)
    extrude(amount=-F13_DEPTH, mode=Mode.SUBTRACT)


solid = f1.part
